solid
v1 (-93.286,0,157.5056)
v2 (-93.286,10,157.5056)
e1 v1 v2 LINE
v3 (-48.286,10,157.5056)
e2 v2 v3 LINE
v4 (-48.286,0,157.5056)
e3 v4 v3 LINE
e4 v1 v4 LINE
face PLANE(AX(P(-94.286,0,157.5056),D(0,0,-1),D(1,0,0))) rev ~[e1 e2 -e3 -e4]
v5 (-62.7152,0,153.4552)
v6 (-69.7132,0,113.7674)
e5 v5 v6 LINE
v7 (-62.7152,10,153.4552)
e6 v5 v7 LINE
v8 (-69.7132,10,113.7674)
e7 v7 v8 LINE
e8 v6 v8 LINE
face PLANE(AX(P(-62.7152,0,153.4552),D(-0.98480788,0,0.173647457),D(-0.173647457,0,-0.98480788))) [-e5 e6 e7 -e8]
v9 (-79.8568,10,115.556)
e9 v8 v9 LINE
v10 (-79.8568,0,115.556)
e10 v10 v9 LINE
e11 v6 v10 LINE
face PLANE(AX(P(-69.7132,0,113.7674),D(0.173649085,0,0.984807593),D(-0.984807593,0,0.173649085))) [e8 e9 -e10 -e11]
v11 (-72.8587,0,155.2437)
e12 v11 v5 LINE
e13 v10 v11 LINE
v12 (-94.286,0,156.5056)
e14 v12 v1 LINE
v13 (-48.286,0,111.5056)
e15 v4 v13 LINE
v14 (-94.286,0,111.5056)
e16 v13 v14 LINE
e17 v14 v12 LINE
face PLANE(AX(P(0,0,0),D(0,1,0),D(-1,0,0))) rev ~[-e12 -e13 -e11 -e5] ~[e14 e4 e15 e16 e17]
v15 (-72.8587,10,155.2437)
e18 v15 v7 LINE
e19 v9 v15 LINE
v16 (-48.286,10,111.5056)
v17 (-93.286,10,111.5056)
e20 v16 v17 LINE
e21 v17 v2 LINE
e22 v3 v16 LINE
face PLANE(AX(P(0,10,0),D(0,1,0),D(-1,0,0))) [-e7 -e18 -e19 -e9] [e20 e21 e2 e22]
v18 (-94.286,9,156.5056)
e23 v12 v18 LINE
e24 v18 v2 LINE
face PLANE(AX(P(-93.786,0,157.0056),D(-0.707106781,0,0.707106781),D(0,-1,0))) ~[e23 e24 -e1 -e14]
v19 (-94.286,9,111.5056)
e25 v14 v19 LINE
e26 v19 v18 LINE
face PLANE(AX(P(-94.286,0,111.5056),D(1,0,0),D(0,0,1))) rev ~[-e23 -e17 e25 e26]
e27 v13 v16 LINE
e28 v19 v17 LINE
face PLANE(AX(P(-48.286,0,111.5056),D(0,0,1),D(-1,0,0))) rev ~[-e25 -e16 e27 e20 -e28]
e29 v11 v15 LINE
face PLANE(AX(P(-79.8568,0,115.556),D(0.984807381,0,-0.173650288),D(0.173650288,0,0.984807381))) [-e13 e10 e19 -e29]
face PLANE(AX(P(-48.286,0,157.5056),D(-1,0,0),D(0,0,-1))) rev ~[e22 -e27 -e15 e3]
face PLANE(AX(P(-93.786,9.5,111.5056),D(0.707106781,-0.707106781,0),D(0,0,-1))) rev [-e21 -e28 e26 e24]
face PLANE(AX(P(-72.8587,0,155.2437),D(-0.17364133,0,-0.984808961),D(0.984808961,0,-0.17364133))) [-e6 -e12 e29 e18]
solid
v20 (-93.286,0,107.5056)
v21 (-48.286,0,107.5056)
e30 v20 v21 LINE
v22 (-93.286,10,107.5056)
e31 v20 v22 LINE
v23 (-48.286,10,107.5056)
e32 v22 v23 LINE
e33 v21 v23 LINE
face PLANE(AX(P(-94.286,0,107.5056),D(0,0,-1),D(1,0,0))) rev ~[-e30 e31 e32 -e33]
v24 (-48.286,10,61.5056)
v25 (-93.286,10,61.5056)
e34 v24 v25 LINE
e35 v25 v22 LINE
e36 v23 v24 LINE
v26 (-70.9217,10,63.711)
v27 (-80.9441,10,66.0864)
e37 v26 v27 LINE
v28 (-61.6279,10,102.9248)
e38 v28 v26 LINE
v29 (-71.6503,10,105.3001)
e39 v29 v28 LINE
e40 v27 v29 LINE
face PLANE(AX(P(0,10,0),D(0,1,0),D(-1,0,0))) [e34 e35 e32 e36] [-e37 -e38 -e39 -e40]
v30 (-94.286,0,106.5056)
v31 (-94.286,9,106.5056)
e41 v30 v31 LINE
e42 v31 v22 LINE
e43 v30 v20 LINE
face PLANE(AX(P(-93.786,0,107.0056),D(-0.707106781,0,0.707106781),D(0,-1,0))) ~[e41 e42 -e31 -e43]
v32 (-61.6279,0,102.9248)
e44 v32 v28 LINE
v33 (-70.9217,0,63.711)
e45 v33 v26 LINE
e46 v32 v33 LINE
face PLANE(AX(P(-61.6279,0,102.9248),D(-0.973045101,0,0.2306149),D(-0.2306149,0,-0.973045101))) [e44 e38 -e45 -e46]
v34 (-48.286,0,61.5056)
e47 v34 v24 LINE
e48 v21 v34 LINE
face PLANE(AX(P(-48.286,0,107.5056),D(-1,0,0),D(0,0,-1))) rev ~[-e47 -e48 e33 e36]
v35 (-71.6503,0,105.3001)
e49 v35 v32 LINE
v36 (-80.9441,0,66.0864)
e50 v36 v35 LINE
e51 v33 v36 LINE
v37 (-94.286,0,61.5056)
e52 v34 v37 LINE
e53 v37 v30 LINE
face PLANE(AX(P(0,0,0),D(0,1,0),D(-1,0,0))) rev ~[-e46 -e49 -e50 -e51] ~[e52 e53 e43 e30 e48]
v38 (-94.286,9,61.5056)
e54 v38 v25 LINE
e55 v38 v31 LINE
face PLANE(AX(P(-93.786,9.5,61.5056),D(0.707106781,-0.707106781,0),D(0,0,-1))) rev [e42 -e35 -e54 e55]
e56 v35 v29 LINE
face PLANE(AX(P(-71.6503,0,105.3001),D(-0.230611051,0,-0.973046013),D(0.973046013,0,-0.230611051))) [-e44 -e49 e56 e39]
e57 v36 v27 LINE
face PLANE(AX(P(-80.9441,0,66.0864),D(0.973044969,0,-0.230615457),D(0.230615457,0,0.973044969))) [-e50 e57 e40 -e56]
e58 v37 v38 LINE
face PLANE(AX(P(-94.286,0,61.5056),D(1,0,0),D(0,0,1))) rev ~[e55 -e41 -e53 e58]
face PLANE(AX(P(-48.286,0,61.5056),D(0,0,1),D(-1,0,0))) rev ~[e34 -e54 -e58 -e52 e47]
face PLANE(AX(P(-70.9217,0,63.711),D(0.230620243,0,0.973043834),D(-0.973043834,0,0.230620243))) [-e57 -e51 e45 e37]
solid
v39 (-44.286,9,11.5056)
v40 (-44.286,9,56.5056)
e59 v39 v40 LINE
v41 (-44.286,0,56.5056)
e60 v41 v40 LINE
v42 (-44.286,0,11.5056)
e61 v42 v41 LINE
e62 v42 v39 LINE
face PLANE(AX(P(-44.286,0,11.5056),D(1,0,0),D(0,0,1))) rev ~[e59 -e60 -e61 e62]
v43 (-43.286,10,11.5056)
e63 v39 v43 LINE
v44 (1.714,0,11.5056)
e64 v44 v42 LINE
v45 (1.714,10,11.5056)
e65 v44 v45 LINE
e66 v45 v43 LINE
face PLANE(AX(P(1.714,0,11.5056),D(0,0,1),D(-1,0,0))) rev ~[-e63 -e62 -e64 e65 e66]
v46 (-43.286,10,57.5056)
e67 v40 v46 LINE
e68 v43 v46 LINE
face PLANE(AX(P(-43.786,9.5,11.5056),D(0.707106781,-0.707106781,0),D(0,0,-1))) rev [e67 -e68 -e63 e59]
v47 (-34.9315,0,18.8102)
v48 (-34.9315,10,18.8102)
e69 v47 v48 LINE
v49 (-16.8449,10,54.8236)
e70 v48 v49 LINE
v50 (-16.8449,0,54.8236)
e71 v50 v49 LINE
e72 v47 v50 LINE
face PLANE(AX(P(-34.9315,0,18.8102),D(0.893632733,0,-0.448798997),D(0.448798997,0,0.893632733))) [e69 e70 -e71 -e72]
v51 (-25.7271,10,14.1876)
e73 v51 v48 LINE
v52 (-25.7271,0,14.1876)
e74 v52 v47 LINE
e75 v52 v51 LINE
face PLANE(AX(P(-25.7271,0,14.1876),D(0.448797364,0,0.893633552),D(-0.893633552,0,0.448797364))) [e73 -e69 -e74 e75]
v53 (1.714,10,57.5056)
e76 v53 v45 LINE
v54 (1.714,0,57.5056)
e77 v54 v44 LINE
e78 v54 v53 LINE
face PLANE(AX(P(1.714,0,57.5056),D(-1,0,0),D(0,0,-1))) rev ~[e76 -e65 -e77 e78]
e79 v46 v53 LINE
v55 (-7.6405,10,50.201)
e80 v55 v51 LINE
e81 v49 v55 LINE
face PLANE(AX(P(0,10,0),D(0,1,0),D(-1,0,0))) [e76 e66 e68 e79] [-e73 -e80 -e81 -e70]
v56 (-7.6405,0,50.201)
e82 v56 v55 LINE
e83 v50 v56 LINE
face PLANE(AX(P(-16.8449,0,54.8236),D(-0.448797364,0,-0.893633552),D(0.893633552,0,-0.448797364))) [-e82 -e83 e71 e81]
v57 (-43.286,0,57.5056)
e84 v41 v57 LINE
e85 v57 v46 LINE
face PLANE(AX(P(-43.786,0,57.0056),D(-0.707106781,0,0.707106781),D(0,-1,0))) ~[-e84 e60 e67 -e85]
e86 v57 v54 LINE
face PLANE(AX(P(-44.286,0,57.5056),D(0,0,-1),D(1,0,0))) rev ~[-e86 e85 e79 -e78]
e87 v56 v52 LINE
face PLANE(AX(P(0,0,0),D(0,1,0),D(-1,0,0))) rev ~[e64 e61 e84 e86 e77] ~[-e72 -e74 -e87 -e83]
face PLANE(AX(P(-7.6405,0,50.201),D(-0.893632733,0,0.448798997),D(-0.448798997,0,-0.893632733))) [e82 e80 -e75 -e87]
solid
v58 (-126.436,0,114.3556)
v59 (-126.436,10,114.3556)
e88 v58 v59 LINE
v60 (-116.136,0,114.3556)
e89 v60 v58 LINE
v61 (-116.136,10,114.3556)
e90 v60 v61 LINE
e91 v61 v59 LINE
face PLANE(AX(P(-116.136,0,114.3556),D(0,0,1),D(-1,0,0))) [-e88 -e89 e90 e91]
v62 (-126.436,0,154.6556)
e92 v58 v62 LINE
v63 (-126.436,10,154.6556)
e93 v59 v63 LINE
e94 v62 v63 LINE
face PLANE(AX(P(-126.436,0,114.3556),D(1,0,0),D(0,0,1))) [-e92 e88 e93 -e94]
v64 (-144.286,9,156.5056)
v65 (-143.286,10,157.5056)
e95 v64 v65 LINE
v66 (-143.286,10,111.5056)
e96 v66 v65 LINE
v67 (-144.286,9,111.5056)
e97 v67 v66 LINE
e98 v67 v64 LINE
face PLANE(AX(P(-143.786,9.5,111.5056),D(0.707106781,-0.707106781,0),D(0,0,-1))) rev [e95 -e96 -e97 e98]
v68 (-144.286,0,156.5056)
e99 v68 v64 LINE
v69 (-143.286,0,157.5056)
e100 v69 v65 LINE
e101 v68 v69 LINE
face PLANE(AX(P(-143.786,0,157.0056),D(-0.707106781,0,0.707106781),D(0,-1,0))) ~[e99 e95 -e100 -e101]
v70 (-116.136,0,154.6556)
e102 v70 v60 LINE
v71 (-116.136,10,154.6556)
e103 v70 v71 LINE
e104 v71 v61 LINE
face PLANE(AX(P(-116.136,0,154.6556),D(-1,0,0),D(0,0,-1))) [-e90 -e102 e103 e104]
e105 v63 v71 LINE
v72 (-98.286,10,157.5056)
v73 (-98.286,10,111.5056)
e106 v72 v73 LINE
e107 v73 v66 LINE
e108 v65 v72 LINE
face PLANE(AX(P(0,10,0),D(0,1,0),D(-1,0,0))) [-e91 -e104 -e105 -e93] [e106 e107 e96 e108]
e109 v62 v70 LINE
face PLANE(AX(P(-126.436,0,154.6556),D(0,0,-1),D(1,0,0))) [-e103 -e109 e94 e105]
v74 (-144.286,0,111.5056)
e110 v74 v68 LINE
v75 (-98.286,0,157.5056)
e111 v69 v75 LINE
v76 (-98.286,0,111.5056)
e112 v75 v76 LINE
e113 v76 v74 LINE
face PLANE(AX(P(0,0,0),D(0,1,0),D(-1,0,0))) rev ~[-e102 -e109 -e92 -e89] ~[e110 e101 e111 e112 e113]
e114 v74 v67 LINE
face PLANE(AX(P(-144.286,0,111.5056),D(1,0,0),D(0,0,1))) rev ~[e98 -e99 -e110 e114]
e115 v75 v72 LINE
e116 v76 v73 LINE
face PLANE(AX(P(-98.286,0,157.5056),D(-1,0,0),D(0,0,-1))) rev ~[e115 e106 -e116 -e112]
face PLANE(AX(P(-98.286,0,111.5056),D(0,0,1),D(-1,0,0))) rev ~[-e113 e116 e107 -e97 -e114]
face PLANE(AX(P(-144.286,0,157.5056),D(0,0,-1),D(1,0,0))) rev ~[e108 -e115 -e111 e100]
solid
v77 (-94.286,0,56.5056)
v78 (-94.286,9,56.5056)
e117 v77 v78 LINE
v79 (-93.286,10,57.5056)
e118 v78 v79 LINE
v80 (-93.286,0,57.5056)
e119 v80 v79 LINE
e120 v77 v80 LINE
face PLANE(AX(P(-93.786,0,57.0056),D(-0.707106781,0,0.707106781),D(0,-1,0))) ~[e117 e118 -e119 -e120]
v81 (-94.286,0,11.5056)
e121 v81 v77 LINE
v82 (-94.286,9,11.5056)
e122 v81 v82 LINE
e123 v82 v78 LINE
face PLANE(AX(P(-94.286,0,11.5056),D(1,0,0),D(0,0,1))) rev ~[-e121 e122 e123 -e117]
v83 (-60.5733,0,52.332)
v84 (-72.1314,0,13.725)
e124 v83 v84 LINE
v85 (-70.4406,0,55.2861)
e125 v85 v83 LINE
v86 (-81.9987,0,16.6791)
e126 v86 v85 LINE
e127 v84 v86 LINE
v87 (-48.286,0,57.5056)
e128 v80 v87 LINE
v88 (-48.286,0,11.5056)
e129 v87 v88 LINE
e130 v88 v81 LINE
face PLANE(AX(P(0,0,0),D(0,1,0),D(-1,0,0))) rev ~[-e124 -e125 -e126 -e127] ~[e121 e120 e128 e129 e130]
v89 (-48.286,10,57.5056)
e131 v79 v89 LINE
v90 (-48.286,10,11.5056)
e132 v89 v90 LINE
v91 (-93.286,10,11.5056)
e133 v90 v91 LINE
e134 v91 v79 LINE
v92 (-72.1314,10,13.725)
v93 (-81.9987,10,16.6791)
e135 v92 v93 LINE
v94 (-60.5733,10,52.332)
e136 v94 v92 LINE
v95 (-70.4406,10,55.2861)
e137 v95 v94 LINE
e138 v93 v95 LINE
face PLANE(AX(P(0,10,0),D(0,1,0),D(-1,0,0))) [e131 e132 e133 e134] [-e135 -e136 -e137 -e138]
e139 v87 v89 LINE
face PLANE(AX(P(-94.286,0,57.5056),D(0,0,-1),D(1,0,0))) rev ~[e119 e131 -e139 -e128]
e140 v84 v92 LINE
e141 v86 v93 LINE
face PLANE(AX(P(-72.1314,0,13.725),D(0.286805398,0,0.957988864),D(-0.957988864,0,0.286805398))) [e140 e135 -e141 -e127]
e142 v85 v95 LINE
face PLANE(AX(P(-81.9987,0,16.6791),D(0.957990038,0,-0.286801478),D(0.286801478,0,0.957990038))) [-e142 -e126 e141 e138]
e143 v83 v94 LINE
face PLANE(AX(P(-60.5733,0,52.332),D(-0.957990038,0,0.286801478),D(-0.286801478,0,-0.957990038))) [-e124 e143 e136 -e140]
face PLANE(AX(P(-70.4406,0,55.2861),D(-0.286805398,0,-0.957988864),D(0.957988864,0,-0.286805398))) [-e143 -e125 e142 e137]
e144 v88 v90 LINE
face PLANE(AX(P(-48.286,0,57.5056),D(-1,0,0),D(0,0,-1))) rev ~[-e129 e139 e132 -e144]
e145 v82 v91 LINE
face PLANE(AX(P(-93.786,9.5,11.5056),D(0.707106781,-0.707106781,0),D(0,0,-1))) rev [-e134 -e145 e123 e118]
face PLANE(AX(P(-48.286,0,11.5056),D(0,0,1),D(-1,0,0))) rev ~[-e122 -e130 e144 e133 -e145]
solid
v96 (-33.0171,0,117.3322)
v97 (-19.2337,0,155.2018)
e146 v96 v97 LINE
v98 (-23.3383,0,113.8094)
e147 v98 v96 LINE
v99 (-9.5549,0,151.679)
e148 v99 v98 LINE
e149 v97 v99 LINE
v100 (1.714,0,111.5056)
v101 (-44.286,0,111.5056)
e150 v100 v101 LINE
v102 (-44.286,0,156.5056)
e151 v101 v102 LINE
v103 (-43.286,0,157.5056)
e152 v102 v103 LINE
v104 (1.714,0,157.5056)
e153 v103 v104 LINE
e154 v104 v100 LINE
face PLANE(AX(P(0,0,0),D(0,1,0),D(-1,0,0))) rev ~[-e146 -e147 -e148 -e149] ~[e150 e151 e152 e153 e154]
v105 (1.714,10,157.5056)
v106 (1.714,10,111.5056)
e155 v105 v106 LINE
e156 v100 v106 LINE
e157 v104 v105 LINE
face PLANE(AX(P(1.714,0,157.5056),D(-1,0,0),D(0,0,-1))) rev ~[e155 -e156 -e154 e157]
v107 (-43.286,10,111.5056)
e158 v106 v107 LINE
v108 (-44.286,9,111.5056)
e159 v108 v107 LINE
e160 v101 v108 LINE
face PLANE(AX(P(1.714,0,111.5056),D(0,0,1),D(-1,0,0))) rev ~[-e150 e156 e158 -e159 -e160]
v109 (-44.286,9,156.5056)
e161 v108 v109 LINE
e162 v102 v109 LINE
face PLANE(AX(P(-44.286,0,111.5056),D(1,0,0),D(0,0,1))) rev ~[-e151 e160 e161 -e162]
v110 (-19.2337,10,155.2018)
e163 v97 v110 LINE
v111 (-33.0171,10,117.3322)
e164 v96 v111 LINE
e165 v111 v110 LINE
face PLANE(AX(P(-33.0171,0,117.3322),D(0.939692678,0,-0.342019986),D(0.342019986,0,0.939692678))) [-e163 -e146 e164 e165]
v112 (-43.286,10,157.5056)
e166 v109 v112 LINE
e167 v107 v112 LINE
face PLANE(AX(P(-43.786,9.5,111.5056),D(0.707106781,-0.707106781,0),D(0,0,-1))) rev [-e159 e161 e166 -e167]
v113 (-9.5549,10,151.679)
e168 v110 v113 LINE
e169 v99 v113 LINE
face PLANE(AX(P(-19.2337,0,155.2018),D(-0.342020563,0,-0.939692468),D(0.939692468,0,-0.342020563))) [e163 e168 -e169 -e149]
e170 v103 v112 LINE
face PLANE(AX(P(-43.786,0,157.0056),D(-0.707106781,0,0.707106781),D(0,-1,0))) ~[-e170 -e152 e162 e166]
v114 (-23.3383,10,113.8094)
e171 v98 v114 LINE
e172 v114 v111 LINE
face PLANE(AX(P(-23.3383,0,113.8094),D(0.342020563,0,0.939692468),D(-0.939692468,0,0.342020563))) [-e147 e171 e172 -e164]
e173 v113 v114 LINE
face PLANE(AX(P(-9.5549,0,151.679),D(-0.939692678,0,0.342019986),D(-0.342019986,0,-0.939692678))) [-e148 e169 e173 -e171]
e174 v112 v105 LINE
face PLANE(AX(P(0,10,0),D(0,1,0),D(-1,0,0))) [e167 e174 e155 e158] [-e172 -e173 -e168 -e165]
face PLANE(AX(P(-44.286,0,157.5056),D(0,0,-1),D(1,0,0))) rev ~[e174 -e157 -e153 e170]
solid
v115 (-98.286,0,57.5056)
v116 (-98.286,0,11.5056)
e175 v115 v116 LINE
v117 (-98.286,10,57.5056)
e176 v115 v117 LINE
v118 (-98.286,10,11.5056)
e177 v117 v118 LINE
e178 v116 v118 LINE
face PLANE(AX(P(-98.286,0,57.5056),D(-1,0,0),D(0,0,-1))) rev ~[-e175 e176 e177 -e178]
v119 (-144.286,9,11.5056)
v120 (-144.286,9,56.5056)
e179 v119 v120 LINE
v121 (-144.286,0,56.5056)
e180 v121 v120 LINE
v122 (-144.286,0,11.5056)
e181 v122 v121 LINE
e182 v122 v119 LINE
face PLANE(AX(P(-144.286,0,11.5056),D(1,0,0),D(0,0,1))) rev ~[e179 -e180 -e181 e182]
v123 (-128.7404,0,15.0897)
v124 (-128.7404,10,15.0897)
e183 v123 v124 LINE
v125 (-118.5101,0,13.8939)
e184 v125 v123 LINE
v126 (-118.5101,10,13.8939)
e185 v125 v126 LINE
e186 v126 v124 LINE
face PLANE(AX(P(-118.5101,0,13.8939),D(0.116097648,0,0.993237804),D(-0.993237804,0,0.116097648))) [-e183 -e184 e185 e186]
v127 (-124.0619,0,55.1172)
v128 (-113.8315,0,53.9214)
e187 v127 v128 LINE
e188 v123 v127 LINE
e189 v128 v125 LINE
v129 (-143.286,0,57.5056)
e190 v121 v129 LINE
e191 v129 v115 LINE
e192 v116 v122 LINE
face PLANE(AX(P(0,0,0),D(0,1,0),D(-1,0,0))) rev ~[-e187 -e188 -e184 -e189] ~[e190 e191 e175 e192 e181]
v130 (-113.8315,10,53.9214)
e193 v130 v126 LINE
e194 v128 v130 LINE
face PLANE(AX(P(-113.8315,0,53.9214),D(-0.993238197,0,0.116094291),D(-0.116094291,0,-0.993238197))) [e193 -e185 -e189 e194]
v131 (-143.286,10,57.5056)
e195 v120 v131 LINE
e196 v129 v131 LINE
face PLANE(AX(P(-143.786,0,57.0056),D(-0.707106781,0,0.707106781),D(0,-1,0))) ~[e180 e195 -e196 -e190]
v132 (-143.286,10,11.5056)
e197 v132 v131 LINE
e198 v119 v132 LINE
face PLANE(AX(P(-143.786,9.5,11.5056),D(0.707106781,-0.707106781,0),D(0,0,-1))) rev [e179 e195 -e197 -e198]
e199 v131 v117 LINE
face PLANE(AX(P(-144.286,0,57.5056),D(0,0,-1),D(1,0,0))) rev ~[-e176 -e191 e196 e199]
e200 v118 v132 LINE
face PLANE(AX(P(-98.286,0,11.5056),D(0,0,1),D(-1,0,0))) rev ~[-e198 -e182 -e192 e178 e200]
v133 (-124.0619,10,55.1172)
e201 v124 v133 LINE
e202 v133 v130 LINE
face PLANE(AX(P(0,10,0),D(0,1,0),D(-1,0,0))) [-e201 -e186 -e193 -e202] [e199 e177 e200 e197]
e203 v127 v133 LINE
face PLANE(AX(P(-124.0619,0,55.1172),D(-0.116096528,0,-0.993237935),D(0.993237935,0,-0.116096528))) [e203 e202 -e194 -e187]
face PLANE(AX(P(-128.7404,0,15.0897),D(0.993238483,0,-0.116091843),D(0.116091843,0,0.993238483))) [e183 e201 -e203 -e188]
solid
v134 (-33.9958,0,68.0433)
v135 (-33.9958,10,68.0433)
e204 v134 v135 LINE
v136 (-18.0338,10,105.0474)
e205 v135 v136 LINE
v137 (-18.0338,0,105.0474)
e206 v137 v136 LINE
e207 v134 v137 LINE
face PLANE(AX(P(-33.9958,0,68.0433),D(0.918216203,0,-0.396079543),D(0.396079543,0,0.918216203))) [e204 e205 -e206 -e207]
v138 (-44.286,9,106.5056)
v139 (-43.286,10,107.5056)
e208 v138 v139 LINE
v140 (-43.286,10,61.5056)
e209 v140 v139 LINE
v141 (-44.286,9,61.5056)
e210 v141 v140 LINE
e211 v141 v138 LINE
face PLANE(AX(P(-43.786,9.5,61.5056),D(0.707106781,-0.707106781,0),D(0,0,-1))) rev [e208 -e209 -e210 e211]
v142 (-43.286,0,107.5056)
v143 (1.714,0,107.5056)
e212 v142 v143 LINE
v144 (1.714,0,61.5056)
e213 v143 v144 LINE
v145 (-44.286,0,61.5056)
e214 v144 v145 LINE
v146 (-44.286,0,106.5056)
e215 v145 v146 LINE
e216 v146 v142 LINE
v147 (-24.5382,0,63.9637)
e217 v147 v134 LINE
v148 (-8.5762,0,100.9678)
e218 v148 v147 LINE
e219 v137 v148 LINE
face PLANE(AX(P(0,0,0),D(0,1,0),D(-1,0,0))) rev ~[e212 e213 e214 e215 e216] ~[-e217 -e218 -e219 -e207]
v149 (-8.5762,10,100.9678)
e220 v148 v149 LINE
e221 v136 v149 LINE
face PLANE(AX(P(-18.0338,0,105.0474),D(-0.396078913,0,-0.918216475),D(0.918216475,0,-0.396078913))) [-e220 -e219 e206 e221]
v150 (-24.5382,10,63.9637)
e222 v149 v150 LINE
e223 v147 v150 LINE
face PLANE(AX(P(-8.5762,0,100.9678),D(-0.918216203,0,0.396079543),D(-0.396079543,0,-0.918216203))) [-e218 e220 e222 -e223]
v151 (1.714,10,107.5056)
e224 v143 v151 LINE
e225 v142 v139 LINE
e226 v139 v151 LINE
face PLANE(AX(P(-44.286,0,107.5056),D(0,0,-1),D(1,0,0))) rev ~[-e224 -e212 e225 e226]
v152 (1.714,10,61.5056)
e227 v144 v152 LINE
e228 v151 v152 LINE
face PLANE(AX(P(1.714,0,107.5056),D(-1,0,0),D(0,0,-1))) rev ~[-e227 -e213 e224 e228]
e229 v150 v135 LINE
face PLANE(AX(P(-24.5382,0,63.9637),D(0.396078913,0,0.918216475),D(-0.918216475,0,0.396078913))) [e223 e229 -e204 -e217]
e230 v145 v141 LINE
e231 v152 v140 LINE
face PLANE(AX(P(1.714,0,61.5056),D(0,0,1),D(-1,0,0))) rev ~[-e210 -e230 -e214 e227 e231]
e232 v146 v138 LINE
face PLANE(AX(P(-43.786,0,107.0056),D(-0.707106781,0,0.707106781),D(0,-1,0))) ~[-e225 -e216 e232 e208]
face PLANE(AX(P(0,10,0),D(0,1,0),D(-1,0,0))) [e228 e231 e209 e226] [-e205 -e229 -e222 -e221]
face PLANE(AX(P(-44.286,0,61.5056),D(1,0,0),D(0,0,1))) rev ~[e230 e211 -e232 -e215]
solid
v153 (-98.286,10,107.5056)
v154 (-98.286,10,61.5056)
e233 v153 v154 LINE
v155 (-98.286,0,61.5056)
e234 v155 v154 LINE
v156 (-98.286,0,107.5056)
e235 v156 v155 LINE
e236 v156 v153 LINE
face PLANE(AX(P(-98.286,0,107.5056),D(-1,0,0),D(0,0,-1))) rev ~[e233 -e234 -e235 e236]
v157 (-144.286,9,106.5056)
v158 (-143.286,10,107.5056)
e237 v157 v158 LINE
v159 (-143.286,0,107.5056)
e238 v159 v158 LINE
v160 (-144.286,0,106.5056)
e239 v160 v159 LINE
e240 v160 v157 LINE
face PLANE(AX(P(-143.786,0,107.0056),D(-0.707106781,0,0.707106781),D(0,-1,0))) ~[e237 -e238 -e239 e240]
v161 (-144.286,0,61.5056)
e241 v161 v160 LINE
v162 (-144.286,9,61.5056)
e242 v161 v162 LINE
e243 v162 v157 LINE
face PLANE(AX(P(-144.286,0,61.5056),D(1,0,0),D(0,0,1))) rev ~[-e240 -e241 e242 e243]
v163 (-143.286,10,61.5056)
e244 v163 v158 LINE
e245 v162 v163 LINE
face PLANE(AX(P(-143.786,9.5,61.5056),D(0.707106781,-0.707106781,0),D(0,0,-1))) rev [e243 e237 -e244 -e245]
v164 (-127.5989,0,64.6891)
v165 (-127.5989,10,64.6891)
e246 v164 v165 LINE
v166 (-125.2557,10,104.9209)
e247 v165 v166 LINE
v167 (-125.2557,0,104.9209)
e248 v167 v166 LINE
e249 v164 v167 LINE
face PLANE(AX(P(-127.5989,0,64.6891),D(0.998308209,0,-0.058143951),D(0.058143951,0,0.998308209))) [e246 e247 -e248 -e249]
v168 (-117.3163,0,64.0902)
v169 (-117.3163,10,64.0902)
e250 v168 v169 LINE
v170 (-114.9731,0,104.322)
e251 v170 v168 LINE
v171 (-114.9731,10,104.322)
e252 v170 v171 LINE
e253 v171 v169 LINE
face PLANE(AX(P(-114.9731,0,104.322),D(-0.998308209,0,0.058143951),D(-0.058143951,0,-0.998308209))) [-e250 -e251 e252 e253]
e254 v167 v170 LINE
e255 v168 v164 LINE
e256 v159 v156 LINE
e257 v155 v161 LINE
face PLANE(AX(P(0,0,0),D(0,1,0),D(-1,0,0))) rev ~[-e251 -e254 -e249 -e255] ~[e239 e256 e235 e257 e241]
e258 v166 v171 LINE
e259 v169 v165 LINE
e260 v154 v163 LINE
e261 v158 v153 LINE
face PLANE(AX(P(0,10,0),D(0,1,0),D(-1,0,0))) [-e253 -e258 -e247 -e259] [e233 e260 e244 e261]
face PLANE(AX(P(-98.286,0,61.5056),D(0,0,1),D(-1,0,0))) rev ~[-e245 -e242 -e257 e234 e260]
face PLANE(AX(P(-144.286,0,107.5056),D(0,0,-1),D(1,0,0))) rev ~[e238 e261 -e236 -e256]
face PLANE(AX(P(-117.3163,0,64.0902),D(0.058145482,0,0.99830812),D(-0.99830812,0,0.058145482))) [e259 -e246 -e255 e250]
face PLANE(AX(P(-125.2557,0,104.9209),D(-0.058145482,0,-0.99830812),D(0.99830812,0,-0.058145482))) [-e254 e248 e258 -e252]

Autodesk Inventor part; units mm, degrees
ref_plane "YZ Plane" through (0, 0, 0) normal (1, 0, 0) x (0, 1, 0)
ref_plane "XZ Plane" through (0, 0, 0) normal (0, 1, 0) x (-1, 0, 0)
ref_plane "XY Plane" through (0, 0, 0) normal (0, 0, 1) x (1, 0, 0)
sketch "Sketch1" plane through (0, 0, 0) normal (0, 1, 0) x (-1, 0, 0)
  line L0 (44.286, 57.5056) -> (-1.714, 57.5056)
  line L1 (-1.714, 57.5056) -> (-1.714, 11.5056)
  line L2 (-1.714, 11.5056) -> (44.286, 11.5056)
  line L3 (44.286, 11.5056) -> (44.286, 57.5056)
  line L4 (21.286, 57.5056) -> (21.286, 11.5056) construction
  line L5 (44.286, 34.5056) -> (-1.714, 34.5056) construction
  line L6 (12.4685, 52.0626) -> (21.286, 34.5056) construction
  line L7 (21.286, 34.5056) -> (12.2118, 29.9484) construction
  line L8 (16.8449, 54.8236) -> (7.6405, 50.201)
  line L9 (7.6405, 50.201) -> (25.7271, 14.1876)
  line L10 (25.7271, 14.1876) -> (34.9315, 18.8102)
  line L11 (34.9315, 18.8102) -> (16.8449, 54.8236)
  line L12 (94.286, 57.5056) -> (48.286, 57.5056)
  line L13 (48.286, 57.5056) -> (48.286, 11.5056)
  line L14 (48.286, 11.5056) -> (94.286, 11.5056)
  line L15 (94.286, 11.5056) -> (94.286, 57.5056)
  line L16 (71.286, 57.5056) -> (71.286, 11.5056) construction
  line L17 (94.286, 34.5056) -> (48.286, 34.5056) construction
  line L18 (65.6512, 53.327) -> (71.286, 34.5056) construction
  line L19 (71.286, 34.5056) -> (61.5583, 31.5933) construction
  line L20 (70.4406, 55.2861) -> (60.5733, 52.332)
  line L21 (60.5733, 52.332) -> (72.1314, 13.725)
  line L22 (72.1314, 13.725) -> (81.9987, 16.6791)
  line L23 (81.9987, 16.6791) -> (70.4406, 55.2861)
  line L24 (144.286, 57.5056) -> (98.286, 57.5056)
  line L25 (98.286, 57.5056) -> (98.286, 11.5056)
  line L26 (98.286, 11.5056) -> (144.286, 11.5056)
  line L27 (144.286, 11.5056) -> (144.286, 57.5056)
  line L28 (121.286, 57.5056) -> (121.286, 11.5056) construction
  line L29 (144.286, 34.5056) -> (98.286, 34.5056) construction
  line L30 (119.0051, 54.0195) -> (121.286, 34.5056) construction
  line L31 (121.286, 34.5056) -> (111.2004, 33.3267) construction
  line L32 (124.0619, 55.1172) -> (113.8315, 53.9214)
  line L33 (113.8315, 53.9214) -> (118.5101, 13.8939)
  line L34 (118.5101, 13.8939) -> (128.7404, 15.0897)
  line L35 (128.7404, 15.0897) -> (124.0619, 55.1172)
  line L36 (44.286, 107.5056) -> (-1.714, 107.5056)
  line L37 (-1.714, 107.5056) -> (-1.714, 61.5056)
  line L38 (-1.714, 61.5056) -> (44.286, 61.5056)
  line L39 (44.286, 61.5056) -> (44.286, 107.5056)
  line L40 (21.286, 107.5056) -> (21.286, 61.5056) construction
  line L41 (44.286, 84.5056) -> (-1.714, 84.5056) construction
  line L42 (13.5043, 102.5456) -> (21.286, 84.5056) construction
  line L43 (21.286, 84.5056) -> (11.9622, 80.4837) construction
  line L44 (18.0338, 105.0474) -> (8.5762, 100.9678)
  line L45 (8.5762, 100.9678) -> (24.5382, 63.9637)
  line L46 (24.5382, 63.9637) -> (33.9958, 68.0433)
  line L47 (33.9958, 68.0433) -> (18.0338, 105.0474)
  line L48 (44.286, 157.5056) -> (-1.714, 157.5056)
  line L49 (-1.714, 157.5056) -> (-1.714, 111.5056)
  line L50 (-1.714, 111.5056) -> (44.286, 111.5056)
  line L51 (44.286, 111.5056) -> (44.286, 157.5056)
  line L52 (21.286, 157.5056) -> (21.286, 111.5056) construction
  line L53 (44.286, 134.5056) -> (-1.714, 134.5056) construction
  line L54 (14.5664, 152.9675) -> (21.286, 134.5056) construction
  line L55 (21.286, 134.5056) -> (11.7441, 131.0326) construction
  line L56 (19.2337, 155.2018) -> (9.5549, 151.679)
  line L57 (9.5549, 151.679) -> (23.3383, 113.8094)
  line L58 (23.3383, 113.8094) -> (33.0171, 117.3322)
  line L59 (33.0171, 117.3322) -> (19.2337, 155.2018)
  line L60 (94.286, 107.5056) -> (48.286, 107.5056)
  line L61 (48.286, 107.5056) -> (48.286, 61.5056)
  line L62 (48.286, 61.5056) -> (94.286, 61.5056)
  line L63 (94.286, 61.5056) -> (94.286, 107.5056)
  line L64 (71.286, 107.5056) -> (71.286, 61.5056) construction
  line L65 (94.286, 84.5056) -> (48.286, 84.5056) construction
  line L66 (66.7551, 103.6228) -> (71.286, 84.5056) construction
  line L67 (71.286, 84.5056) -> (61.4055, 82.1638) construction
  line L68 (71.6503, 105.3001) -> (61.6279, 102.9248)
  line L69 (61.6279, 102.9248) -> (70.9217, 63.711)
  line L70 (70.9217, 63.711) -> (80.9441, 66.0864)
  line L71 (80.9441, 66.0864) -> (71.6503, 105.3001)
  line L72 (94.286, 157.5056) -> (48.286, 157.5056)
  line L73 (48.286, 157.5056) -> (48.286, 111.5056)
  line L74 (48.286, 111.5056) -> (94.286, 111.5056)
  line L75 (94.286, 111.5056) -> (94.286, 157.5056)
  line L76 (71.286, 157.5056) -> (71.286, 111.5056) construction
  line L77 (94.286, 134.5056) -> (48.286, 134.5056) construction
  line L78 (67.8744, 153.8539) -> (71.286, 134.5056) construction
  line L79 (71.286, 134.5056) -> (61.286, 132.7423) construction
  line L80 (72.8587, 155.2437) -> (62.7152, 153.4552)
  line L81 (62.7152, 153.4552) -> (69.7132, 113.7674)
  line L82 (69.7132, 113.7674) -> (79.8568, 115.556)
  line L83 (79.8568, 115.556) -> (72.8587, 155.2437)
  line L84 (144.286, 107.5056) -> (98.286, 107.5056)
  line L85 (98.286, 107.5056) -> (98.286, 61.5056)
  line L86 (98.286, 61.5056) -> (144.286, 61.5056)
  line L87 (144.286, 61.5056) -> (144.286, 107.5056)
  line L88 (121.286, 107.5056) -> (121.286, 61.5056) construction
  line L89 (144.286, 84.5056) -> (98.286, 84.5056) construction
  line L90 (120.1436, 104.1191) -> (121.286, 84.5056) construction
  line L91 (121.286, 84.5056) -> (111.1489, 83.9152) construction
  line L92 (125.2557, 104.9209) -> (114.9731, 104.322)
  line L93 (114.9731, 104.322) -> (117.3163, 64.0902)
  line L94 (117.3163, 64.0902) -> (127.5989, 64.6891)
  line L95 (127.5989, 64.6891) -> (125.2557, 104.9209)
  line L96 (144.286, 157.5056) -> (98.286, 157.5056)
  line L97 (98.286, 157.5056) -> (98.286, 111.5056)
  line L98 (98.286, 111.5056) -> (144.286, 111.5056)
  line L99 (144.286, 111.5056) -> (144.286, 157.5056)
  line L100 (121.286, 157.5056) -> (121.286, 111.5056) construction
  line L101 (144.286, 134.5056) -> (98.286, 134.5056) construction
  line L102 (121.286, 154.1524) -> (121.286, 134.5056) construction
  line L103 (121.286, 134.5056) -> (111.1318, 134.5056) construction
  line L104 (126.436, 154.6556) -> (116.136, 154.6556)
  line L105 (116.136, 154.6556) -> (116.136, 114.3556)
  line L106 (116.136, 114.3556) -> (126.436, 114.3556)
  line L107 (126.436, 114.3556) -> (126.436, 154.6556)
  dimension "w" = 46
  dimension "d65" = 46
  dimension "d" = 10.3
  dimension "d67" = 40.3
  dimension "d68" = 116.667
  dimension "d69" = 46
  dimension "d70" = 46
  dimension "d71" = 10.3
  dimension "d72" = 40.3
  dimension "d73" = 106.667
  dimension "d76" = 46
  dimension "d77" = 46
  dimension "d78" = 10.3
  dimension "d79" = 40.3
  dimension "d80" = 96.667
  dimension "d83" = 46
  dimension "d84" = 46
  dimension "d85" = 10.3
  dimension "d86" = 40.3
  dimension "d87" = 113.333
  dimension "d90" = 46
  dimension "d91" = 46
  dimension "d92" = 10.3
  dimension "d93" = 40.3
  dimension "d94" = 110
  dimension "d97" = 46
  dimension "d98" = 46
  dimension "d99" = 10.3
  dimension "d100" = 40.3
  dimension "d101" = 103.333
  dimension "d104" = 46
  dimension "d105" = 46
  dimension "d106" = 10.3
  dimension "d107" = 40.3
  dimension "d108" = 100
  dimension "d111" = 46
  dimension "d112" = 46
  dimension "d113" = 10.3
  dimension "d114" = 40.3
  dimension "d115" = 93.333
  dimension "d118" = 46
  dimension "d119" = 46
  dimension "d120" = 10.3
  dimension "d121" = 40.3
  dimension "d122" = 90
extrude "Extrusion1" add sketch "Sketch1" along normal blind 10
chamfer "Chamfer1" distance 1 angle 45 18 edges at (-144.286, 10, 134.5056) (-144.286, 10, 84.5056) (-144.286, 10, 34.5056) (-94.286, 10, 134.5056) (-94.286, 10, 84.5056) (-94.286, 10, 34.5056) (-44.286, 10, 34.5056) (-44.286, 10, 84.5056) (-44.286, 10, 134.5056) (-144.286, 5, 157.5056) (-144.286, 5, 107.5056) (-144.286, 5, 57.5056) (-94.286, 5, 157.5056) (-94.286, 5, 107.5056) (-94.286, 5, 57.5056) (-44.286, 5, 157.5056) (-44.286, 5, 107.5056) (-44.286, 5, 57.5056)
equation "\"d68\" = a0 + 8 * ad"
equation "\"d73\" = a0 + 5 * ad"
equation "\"d80\" = a0 + 2 * ad"
equation "\"d87\" = a0 + 7 * ad"
equation "\"d94\" = a0 + 6 * ad"
equation "\"d101\" = a0 + 4 * ad"
equation "\"d108\" = a0 + 3 * ad"
equation "\"d115\" = a0 + ad"
equation "\"d122\" = a0 + 0 * ad"
equation "\"ad\" = 3.33333deg"
equation "\"d74\" = 0 * d75"
equation "\"d75\" = 3.333333deg"
equation "\"d81\" = 0 * d82"
equation "\"d82\" = 3.333333deg"
equation "\"d88\" = 0 * d89"
equation "\"d89\" = 3.333333deg"
equation "\"d95\" = 0 * d96"
equation "\"d96\" = 3.333333deg"
equation "\"d102\" = 0 * d103"
equation "\"d103\" = 3.333333deg"
equation "\"d109\" = 0 * d110"
equation "\"d110\" = 3.333333deg"
equation "\"d116\" = 0 * d117"
equation "\"d117\" = 3.333333deg"
equation "\"d123\" = 0 * d124"
equation "\"d124\" = 3.333333deg"
equation "\"a0\" = 90deg"
properties part number "magnet-54-offset-27"
